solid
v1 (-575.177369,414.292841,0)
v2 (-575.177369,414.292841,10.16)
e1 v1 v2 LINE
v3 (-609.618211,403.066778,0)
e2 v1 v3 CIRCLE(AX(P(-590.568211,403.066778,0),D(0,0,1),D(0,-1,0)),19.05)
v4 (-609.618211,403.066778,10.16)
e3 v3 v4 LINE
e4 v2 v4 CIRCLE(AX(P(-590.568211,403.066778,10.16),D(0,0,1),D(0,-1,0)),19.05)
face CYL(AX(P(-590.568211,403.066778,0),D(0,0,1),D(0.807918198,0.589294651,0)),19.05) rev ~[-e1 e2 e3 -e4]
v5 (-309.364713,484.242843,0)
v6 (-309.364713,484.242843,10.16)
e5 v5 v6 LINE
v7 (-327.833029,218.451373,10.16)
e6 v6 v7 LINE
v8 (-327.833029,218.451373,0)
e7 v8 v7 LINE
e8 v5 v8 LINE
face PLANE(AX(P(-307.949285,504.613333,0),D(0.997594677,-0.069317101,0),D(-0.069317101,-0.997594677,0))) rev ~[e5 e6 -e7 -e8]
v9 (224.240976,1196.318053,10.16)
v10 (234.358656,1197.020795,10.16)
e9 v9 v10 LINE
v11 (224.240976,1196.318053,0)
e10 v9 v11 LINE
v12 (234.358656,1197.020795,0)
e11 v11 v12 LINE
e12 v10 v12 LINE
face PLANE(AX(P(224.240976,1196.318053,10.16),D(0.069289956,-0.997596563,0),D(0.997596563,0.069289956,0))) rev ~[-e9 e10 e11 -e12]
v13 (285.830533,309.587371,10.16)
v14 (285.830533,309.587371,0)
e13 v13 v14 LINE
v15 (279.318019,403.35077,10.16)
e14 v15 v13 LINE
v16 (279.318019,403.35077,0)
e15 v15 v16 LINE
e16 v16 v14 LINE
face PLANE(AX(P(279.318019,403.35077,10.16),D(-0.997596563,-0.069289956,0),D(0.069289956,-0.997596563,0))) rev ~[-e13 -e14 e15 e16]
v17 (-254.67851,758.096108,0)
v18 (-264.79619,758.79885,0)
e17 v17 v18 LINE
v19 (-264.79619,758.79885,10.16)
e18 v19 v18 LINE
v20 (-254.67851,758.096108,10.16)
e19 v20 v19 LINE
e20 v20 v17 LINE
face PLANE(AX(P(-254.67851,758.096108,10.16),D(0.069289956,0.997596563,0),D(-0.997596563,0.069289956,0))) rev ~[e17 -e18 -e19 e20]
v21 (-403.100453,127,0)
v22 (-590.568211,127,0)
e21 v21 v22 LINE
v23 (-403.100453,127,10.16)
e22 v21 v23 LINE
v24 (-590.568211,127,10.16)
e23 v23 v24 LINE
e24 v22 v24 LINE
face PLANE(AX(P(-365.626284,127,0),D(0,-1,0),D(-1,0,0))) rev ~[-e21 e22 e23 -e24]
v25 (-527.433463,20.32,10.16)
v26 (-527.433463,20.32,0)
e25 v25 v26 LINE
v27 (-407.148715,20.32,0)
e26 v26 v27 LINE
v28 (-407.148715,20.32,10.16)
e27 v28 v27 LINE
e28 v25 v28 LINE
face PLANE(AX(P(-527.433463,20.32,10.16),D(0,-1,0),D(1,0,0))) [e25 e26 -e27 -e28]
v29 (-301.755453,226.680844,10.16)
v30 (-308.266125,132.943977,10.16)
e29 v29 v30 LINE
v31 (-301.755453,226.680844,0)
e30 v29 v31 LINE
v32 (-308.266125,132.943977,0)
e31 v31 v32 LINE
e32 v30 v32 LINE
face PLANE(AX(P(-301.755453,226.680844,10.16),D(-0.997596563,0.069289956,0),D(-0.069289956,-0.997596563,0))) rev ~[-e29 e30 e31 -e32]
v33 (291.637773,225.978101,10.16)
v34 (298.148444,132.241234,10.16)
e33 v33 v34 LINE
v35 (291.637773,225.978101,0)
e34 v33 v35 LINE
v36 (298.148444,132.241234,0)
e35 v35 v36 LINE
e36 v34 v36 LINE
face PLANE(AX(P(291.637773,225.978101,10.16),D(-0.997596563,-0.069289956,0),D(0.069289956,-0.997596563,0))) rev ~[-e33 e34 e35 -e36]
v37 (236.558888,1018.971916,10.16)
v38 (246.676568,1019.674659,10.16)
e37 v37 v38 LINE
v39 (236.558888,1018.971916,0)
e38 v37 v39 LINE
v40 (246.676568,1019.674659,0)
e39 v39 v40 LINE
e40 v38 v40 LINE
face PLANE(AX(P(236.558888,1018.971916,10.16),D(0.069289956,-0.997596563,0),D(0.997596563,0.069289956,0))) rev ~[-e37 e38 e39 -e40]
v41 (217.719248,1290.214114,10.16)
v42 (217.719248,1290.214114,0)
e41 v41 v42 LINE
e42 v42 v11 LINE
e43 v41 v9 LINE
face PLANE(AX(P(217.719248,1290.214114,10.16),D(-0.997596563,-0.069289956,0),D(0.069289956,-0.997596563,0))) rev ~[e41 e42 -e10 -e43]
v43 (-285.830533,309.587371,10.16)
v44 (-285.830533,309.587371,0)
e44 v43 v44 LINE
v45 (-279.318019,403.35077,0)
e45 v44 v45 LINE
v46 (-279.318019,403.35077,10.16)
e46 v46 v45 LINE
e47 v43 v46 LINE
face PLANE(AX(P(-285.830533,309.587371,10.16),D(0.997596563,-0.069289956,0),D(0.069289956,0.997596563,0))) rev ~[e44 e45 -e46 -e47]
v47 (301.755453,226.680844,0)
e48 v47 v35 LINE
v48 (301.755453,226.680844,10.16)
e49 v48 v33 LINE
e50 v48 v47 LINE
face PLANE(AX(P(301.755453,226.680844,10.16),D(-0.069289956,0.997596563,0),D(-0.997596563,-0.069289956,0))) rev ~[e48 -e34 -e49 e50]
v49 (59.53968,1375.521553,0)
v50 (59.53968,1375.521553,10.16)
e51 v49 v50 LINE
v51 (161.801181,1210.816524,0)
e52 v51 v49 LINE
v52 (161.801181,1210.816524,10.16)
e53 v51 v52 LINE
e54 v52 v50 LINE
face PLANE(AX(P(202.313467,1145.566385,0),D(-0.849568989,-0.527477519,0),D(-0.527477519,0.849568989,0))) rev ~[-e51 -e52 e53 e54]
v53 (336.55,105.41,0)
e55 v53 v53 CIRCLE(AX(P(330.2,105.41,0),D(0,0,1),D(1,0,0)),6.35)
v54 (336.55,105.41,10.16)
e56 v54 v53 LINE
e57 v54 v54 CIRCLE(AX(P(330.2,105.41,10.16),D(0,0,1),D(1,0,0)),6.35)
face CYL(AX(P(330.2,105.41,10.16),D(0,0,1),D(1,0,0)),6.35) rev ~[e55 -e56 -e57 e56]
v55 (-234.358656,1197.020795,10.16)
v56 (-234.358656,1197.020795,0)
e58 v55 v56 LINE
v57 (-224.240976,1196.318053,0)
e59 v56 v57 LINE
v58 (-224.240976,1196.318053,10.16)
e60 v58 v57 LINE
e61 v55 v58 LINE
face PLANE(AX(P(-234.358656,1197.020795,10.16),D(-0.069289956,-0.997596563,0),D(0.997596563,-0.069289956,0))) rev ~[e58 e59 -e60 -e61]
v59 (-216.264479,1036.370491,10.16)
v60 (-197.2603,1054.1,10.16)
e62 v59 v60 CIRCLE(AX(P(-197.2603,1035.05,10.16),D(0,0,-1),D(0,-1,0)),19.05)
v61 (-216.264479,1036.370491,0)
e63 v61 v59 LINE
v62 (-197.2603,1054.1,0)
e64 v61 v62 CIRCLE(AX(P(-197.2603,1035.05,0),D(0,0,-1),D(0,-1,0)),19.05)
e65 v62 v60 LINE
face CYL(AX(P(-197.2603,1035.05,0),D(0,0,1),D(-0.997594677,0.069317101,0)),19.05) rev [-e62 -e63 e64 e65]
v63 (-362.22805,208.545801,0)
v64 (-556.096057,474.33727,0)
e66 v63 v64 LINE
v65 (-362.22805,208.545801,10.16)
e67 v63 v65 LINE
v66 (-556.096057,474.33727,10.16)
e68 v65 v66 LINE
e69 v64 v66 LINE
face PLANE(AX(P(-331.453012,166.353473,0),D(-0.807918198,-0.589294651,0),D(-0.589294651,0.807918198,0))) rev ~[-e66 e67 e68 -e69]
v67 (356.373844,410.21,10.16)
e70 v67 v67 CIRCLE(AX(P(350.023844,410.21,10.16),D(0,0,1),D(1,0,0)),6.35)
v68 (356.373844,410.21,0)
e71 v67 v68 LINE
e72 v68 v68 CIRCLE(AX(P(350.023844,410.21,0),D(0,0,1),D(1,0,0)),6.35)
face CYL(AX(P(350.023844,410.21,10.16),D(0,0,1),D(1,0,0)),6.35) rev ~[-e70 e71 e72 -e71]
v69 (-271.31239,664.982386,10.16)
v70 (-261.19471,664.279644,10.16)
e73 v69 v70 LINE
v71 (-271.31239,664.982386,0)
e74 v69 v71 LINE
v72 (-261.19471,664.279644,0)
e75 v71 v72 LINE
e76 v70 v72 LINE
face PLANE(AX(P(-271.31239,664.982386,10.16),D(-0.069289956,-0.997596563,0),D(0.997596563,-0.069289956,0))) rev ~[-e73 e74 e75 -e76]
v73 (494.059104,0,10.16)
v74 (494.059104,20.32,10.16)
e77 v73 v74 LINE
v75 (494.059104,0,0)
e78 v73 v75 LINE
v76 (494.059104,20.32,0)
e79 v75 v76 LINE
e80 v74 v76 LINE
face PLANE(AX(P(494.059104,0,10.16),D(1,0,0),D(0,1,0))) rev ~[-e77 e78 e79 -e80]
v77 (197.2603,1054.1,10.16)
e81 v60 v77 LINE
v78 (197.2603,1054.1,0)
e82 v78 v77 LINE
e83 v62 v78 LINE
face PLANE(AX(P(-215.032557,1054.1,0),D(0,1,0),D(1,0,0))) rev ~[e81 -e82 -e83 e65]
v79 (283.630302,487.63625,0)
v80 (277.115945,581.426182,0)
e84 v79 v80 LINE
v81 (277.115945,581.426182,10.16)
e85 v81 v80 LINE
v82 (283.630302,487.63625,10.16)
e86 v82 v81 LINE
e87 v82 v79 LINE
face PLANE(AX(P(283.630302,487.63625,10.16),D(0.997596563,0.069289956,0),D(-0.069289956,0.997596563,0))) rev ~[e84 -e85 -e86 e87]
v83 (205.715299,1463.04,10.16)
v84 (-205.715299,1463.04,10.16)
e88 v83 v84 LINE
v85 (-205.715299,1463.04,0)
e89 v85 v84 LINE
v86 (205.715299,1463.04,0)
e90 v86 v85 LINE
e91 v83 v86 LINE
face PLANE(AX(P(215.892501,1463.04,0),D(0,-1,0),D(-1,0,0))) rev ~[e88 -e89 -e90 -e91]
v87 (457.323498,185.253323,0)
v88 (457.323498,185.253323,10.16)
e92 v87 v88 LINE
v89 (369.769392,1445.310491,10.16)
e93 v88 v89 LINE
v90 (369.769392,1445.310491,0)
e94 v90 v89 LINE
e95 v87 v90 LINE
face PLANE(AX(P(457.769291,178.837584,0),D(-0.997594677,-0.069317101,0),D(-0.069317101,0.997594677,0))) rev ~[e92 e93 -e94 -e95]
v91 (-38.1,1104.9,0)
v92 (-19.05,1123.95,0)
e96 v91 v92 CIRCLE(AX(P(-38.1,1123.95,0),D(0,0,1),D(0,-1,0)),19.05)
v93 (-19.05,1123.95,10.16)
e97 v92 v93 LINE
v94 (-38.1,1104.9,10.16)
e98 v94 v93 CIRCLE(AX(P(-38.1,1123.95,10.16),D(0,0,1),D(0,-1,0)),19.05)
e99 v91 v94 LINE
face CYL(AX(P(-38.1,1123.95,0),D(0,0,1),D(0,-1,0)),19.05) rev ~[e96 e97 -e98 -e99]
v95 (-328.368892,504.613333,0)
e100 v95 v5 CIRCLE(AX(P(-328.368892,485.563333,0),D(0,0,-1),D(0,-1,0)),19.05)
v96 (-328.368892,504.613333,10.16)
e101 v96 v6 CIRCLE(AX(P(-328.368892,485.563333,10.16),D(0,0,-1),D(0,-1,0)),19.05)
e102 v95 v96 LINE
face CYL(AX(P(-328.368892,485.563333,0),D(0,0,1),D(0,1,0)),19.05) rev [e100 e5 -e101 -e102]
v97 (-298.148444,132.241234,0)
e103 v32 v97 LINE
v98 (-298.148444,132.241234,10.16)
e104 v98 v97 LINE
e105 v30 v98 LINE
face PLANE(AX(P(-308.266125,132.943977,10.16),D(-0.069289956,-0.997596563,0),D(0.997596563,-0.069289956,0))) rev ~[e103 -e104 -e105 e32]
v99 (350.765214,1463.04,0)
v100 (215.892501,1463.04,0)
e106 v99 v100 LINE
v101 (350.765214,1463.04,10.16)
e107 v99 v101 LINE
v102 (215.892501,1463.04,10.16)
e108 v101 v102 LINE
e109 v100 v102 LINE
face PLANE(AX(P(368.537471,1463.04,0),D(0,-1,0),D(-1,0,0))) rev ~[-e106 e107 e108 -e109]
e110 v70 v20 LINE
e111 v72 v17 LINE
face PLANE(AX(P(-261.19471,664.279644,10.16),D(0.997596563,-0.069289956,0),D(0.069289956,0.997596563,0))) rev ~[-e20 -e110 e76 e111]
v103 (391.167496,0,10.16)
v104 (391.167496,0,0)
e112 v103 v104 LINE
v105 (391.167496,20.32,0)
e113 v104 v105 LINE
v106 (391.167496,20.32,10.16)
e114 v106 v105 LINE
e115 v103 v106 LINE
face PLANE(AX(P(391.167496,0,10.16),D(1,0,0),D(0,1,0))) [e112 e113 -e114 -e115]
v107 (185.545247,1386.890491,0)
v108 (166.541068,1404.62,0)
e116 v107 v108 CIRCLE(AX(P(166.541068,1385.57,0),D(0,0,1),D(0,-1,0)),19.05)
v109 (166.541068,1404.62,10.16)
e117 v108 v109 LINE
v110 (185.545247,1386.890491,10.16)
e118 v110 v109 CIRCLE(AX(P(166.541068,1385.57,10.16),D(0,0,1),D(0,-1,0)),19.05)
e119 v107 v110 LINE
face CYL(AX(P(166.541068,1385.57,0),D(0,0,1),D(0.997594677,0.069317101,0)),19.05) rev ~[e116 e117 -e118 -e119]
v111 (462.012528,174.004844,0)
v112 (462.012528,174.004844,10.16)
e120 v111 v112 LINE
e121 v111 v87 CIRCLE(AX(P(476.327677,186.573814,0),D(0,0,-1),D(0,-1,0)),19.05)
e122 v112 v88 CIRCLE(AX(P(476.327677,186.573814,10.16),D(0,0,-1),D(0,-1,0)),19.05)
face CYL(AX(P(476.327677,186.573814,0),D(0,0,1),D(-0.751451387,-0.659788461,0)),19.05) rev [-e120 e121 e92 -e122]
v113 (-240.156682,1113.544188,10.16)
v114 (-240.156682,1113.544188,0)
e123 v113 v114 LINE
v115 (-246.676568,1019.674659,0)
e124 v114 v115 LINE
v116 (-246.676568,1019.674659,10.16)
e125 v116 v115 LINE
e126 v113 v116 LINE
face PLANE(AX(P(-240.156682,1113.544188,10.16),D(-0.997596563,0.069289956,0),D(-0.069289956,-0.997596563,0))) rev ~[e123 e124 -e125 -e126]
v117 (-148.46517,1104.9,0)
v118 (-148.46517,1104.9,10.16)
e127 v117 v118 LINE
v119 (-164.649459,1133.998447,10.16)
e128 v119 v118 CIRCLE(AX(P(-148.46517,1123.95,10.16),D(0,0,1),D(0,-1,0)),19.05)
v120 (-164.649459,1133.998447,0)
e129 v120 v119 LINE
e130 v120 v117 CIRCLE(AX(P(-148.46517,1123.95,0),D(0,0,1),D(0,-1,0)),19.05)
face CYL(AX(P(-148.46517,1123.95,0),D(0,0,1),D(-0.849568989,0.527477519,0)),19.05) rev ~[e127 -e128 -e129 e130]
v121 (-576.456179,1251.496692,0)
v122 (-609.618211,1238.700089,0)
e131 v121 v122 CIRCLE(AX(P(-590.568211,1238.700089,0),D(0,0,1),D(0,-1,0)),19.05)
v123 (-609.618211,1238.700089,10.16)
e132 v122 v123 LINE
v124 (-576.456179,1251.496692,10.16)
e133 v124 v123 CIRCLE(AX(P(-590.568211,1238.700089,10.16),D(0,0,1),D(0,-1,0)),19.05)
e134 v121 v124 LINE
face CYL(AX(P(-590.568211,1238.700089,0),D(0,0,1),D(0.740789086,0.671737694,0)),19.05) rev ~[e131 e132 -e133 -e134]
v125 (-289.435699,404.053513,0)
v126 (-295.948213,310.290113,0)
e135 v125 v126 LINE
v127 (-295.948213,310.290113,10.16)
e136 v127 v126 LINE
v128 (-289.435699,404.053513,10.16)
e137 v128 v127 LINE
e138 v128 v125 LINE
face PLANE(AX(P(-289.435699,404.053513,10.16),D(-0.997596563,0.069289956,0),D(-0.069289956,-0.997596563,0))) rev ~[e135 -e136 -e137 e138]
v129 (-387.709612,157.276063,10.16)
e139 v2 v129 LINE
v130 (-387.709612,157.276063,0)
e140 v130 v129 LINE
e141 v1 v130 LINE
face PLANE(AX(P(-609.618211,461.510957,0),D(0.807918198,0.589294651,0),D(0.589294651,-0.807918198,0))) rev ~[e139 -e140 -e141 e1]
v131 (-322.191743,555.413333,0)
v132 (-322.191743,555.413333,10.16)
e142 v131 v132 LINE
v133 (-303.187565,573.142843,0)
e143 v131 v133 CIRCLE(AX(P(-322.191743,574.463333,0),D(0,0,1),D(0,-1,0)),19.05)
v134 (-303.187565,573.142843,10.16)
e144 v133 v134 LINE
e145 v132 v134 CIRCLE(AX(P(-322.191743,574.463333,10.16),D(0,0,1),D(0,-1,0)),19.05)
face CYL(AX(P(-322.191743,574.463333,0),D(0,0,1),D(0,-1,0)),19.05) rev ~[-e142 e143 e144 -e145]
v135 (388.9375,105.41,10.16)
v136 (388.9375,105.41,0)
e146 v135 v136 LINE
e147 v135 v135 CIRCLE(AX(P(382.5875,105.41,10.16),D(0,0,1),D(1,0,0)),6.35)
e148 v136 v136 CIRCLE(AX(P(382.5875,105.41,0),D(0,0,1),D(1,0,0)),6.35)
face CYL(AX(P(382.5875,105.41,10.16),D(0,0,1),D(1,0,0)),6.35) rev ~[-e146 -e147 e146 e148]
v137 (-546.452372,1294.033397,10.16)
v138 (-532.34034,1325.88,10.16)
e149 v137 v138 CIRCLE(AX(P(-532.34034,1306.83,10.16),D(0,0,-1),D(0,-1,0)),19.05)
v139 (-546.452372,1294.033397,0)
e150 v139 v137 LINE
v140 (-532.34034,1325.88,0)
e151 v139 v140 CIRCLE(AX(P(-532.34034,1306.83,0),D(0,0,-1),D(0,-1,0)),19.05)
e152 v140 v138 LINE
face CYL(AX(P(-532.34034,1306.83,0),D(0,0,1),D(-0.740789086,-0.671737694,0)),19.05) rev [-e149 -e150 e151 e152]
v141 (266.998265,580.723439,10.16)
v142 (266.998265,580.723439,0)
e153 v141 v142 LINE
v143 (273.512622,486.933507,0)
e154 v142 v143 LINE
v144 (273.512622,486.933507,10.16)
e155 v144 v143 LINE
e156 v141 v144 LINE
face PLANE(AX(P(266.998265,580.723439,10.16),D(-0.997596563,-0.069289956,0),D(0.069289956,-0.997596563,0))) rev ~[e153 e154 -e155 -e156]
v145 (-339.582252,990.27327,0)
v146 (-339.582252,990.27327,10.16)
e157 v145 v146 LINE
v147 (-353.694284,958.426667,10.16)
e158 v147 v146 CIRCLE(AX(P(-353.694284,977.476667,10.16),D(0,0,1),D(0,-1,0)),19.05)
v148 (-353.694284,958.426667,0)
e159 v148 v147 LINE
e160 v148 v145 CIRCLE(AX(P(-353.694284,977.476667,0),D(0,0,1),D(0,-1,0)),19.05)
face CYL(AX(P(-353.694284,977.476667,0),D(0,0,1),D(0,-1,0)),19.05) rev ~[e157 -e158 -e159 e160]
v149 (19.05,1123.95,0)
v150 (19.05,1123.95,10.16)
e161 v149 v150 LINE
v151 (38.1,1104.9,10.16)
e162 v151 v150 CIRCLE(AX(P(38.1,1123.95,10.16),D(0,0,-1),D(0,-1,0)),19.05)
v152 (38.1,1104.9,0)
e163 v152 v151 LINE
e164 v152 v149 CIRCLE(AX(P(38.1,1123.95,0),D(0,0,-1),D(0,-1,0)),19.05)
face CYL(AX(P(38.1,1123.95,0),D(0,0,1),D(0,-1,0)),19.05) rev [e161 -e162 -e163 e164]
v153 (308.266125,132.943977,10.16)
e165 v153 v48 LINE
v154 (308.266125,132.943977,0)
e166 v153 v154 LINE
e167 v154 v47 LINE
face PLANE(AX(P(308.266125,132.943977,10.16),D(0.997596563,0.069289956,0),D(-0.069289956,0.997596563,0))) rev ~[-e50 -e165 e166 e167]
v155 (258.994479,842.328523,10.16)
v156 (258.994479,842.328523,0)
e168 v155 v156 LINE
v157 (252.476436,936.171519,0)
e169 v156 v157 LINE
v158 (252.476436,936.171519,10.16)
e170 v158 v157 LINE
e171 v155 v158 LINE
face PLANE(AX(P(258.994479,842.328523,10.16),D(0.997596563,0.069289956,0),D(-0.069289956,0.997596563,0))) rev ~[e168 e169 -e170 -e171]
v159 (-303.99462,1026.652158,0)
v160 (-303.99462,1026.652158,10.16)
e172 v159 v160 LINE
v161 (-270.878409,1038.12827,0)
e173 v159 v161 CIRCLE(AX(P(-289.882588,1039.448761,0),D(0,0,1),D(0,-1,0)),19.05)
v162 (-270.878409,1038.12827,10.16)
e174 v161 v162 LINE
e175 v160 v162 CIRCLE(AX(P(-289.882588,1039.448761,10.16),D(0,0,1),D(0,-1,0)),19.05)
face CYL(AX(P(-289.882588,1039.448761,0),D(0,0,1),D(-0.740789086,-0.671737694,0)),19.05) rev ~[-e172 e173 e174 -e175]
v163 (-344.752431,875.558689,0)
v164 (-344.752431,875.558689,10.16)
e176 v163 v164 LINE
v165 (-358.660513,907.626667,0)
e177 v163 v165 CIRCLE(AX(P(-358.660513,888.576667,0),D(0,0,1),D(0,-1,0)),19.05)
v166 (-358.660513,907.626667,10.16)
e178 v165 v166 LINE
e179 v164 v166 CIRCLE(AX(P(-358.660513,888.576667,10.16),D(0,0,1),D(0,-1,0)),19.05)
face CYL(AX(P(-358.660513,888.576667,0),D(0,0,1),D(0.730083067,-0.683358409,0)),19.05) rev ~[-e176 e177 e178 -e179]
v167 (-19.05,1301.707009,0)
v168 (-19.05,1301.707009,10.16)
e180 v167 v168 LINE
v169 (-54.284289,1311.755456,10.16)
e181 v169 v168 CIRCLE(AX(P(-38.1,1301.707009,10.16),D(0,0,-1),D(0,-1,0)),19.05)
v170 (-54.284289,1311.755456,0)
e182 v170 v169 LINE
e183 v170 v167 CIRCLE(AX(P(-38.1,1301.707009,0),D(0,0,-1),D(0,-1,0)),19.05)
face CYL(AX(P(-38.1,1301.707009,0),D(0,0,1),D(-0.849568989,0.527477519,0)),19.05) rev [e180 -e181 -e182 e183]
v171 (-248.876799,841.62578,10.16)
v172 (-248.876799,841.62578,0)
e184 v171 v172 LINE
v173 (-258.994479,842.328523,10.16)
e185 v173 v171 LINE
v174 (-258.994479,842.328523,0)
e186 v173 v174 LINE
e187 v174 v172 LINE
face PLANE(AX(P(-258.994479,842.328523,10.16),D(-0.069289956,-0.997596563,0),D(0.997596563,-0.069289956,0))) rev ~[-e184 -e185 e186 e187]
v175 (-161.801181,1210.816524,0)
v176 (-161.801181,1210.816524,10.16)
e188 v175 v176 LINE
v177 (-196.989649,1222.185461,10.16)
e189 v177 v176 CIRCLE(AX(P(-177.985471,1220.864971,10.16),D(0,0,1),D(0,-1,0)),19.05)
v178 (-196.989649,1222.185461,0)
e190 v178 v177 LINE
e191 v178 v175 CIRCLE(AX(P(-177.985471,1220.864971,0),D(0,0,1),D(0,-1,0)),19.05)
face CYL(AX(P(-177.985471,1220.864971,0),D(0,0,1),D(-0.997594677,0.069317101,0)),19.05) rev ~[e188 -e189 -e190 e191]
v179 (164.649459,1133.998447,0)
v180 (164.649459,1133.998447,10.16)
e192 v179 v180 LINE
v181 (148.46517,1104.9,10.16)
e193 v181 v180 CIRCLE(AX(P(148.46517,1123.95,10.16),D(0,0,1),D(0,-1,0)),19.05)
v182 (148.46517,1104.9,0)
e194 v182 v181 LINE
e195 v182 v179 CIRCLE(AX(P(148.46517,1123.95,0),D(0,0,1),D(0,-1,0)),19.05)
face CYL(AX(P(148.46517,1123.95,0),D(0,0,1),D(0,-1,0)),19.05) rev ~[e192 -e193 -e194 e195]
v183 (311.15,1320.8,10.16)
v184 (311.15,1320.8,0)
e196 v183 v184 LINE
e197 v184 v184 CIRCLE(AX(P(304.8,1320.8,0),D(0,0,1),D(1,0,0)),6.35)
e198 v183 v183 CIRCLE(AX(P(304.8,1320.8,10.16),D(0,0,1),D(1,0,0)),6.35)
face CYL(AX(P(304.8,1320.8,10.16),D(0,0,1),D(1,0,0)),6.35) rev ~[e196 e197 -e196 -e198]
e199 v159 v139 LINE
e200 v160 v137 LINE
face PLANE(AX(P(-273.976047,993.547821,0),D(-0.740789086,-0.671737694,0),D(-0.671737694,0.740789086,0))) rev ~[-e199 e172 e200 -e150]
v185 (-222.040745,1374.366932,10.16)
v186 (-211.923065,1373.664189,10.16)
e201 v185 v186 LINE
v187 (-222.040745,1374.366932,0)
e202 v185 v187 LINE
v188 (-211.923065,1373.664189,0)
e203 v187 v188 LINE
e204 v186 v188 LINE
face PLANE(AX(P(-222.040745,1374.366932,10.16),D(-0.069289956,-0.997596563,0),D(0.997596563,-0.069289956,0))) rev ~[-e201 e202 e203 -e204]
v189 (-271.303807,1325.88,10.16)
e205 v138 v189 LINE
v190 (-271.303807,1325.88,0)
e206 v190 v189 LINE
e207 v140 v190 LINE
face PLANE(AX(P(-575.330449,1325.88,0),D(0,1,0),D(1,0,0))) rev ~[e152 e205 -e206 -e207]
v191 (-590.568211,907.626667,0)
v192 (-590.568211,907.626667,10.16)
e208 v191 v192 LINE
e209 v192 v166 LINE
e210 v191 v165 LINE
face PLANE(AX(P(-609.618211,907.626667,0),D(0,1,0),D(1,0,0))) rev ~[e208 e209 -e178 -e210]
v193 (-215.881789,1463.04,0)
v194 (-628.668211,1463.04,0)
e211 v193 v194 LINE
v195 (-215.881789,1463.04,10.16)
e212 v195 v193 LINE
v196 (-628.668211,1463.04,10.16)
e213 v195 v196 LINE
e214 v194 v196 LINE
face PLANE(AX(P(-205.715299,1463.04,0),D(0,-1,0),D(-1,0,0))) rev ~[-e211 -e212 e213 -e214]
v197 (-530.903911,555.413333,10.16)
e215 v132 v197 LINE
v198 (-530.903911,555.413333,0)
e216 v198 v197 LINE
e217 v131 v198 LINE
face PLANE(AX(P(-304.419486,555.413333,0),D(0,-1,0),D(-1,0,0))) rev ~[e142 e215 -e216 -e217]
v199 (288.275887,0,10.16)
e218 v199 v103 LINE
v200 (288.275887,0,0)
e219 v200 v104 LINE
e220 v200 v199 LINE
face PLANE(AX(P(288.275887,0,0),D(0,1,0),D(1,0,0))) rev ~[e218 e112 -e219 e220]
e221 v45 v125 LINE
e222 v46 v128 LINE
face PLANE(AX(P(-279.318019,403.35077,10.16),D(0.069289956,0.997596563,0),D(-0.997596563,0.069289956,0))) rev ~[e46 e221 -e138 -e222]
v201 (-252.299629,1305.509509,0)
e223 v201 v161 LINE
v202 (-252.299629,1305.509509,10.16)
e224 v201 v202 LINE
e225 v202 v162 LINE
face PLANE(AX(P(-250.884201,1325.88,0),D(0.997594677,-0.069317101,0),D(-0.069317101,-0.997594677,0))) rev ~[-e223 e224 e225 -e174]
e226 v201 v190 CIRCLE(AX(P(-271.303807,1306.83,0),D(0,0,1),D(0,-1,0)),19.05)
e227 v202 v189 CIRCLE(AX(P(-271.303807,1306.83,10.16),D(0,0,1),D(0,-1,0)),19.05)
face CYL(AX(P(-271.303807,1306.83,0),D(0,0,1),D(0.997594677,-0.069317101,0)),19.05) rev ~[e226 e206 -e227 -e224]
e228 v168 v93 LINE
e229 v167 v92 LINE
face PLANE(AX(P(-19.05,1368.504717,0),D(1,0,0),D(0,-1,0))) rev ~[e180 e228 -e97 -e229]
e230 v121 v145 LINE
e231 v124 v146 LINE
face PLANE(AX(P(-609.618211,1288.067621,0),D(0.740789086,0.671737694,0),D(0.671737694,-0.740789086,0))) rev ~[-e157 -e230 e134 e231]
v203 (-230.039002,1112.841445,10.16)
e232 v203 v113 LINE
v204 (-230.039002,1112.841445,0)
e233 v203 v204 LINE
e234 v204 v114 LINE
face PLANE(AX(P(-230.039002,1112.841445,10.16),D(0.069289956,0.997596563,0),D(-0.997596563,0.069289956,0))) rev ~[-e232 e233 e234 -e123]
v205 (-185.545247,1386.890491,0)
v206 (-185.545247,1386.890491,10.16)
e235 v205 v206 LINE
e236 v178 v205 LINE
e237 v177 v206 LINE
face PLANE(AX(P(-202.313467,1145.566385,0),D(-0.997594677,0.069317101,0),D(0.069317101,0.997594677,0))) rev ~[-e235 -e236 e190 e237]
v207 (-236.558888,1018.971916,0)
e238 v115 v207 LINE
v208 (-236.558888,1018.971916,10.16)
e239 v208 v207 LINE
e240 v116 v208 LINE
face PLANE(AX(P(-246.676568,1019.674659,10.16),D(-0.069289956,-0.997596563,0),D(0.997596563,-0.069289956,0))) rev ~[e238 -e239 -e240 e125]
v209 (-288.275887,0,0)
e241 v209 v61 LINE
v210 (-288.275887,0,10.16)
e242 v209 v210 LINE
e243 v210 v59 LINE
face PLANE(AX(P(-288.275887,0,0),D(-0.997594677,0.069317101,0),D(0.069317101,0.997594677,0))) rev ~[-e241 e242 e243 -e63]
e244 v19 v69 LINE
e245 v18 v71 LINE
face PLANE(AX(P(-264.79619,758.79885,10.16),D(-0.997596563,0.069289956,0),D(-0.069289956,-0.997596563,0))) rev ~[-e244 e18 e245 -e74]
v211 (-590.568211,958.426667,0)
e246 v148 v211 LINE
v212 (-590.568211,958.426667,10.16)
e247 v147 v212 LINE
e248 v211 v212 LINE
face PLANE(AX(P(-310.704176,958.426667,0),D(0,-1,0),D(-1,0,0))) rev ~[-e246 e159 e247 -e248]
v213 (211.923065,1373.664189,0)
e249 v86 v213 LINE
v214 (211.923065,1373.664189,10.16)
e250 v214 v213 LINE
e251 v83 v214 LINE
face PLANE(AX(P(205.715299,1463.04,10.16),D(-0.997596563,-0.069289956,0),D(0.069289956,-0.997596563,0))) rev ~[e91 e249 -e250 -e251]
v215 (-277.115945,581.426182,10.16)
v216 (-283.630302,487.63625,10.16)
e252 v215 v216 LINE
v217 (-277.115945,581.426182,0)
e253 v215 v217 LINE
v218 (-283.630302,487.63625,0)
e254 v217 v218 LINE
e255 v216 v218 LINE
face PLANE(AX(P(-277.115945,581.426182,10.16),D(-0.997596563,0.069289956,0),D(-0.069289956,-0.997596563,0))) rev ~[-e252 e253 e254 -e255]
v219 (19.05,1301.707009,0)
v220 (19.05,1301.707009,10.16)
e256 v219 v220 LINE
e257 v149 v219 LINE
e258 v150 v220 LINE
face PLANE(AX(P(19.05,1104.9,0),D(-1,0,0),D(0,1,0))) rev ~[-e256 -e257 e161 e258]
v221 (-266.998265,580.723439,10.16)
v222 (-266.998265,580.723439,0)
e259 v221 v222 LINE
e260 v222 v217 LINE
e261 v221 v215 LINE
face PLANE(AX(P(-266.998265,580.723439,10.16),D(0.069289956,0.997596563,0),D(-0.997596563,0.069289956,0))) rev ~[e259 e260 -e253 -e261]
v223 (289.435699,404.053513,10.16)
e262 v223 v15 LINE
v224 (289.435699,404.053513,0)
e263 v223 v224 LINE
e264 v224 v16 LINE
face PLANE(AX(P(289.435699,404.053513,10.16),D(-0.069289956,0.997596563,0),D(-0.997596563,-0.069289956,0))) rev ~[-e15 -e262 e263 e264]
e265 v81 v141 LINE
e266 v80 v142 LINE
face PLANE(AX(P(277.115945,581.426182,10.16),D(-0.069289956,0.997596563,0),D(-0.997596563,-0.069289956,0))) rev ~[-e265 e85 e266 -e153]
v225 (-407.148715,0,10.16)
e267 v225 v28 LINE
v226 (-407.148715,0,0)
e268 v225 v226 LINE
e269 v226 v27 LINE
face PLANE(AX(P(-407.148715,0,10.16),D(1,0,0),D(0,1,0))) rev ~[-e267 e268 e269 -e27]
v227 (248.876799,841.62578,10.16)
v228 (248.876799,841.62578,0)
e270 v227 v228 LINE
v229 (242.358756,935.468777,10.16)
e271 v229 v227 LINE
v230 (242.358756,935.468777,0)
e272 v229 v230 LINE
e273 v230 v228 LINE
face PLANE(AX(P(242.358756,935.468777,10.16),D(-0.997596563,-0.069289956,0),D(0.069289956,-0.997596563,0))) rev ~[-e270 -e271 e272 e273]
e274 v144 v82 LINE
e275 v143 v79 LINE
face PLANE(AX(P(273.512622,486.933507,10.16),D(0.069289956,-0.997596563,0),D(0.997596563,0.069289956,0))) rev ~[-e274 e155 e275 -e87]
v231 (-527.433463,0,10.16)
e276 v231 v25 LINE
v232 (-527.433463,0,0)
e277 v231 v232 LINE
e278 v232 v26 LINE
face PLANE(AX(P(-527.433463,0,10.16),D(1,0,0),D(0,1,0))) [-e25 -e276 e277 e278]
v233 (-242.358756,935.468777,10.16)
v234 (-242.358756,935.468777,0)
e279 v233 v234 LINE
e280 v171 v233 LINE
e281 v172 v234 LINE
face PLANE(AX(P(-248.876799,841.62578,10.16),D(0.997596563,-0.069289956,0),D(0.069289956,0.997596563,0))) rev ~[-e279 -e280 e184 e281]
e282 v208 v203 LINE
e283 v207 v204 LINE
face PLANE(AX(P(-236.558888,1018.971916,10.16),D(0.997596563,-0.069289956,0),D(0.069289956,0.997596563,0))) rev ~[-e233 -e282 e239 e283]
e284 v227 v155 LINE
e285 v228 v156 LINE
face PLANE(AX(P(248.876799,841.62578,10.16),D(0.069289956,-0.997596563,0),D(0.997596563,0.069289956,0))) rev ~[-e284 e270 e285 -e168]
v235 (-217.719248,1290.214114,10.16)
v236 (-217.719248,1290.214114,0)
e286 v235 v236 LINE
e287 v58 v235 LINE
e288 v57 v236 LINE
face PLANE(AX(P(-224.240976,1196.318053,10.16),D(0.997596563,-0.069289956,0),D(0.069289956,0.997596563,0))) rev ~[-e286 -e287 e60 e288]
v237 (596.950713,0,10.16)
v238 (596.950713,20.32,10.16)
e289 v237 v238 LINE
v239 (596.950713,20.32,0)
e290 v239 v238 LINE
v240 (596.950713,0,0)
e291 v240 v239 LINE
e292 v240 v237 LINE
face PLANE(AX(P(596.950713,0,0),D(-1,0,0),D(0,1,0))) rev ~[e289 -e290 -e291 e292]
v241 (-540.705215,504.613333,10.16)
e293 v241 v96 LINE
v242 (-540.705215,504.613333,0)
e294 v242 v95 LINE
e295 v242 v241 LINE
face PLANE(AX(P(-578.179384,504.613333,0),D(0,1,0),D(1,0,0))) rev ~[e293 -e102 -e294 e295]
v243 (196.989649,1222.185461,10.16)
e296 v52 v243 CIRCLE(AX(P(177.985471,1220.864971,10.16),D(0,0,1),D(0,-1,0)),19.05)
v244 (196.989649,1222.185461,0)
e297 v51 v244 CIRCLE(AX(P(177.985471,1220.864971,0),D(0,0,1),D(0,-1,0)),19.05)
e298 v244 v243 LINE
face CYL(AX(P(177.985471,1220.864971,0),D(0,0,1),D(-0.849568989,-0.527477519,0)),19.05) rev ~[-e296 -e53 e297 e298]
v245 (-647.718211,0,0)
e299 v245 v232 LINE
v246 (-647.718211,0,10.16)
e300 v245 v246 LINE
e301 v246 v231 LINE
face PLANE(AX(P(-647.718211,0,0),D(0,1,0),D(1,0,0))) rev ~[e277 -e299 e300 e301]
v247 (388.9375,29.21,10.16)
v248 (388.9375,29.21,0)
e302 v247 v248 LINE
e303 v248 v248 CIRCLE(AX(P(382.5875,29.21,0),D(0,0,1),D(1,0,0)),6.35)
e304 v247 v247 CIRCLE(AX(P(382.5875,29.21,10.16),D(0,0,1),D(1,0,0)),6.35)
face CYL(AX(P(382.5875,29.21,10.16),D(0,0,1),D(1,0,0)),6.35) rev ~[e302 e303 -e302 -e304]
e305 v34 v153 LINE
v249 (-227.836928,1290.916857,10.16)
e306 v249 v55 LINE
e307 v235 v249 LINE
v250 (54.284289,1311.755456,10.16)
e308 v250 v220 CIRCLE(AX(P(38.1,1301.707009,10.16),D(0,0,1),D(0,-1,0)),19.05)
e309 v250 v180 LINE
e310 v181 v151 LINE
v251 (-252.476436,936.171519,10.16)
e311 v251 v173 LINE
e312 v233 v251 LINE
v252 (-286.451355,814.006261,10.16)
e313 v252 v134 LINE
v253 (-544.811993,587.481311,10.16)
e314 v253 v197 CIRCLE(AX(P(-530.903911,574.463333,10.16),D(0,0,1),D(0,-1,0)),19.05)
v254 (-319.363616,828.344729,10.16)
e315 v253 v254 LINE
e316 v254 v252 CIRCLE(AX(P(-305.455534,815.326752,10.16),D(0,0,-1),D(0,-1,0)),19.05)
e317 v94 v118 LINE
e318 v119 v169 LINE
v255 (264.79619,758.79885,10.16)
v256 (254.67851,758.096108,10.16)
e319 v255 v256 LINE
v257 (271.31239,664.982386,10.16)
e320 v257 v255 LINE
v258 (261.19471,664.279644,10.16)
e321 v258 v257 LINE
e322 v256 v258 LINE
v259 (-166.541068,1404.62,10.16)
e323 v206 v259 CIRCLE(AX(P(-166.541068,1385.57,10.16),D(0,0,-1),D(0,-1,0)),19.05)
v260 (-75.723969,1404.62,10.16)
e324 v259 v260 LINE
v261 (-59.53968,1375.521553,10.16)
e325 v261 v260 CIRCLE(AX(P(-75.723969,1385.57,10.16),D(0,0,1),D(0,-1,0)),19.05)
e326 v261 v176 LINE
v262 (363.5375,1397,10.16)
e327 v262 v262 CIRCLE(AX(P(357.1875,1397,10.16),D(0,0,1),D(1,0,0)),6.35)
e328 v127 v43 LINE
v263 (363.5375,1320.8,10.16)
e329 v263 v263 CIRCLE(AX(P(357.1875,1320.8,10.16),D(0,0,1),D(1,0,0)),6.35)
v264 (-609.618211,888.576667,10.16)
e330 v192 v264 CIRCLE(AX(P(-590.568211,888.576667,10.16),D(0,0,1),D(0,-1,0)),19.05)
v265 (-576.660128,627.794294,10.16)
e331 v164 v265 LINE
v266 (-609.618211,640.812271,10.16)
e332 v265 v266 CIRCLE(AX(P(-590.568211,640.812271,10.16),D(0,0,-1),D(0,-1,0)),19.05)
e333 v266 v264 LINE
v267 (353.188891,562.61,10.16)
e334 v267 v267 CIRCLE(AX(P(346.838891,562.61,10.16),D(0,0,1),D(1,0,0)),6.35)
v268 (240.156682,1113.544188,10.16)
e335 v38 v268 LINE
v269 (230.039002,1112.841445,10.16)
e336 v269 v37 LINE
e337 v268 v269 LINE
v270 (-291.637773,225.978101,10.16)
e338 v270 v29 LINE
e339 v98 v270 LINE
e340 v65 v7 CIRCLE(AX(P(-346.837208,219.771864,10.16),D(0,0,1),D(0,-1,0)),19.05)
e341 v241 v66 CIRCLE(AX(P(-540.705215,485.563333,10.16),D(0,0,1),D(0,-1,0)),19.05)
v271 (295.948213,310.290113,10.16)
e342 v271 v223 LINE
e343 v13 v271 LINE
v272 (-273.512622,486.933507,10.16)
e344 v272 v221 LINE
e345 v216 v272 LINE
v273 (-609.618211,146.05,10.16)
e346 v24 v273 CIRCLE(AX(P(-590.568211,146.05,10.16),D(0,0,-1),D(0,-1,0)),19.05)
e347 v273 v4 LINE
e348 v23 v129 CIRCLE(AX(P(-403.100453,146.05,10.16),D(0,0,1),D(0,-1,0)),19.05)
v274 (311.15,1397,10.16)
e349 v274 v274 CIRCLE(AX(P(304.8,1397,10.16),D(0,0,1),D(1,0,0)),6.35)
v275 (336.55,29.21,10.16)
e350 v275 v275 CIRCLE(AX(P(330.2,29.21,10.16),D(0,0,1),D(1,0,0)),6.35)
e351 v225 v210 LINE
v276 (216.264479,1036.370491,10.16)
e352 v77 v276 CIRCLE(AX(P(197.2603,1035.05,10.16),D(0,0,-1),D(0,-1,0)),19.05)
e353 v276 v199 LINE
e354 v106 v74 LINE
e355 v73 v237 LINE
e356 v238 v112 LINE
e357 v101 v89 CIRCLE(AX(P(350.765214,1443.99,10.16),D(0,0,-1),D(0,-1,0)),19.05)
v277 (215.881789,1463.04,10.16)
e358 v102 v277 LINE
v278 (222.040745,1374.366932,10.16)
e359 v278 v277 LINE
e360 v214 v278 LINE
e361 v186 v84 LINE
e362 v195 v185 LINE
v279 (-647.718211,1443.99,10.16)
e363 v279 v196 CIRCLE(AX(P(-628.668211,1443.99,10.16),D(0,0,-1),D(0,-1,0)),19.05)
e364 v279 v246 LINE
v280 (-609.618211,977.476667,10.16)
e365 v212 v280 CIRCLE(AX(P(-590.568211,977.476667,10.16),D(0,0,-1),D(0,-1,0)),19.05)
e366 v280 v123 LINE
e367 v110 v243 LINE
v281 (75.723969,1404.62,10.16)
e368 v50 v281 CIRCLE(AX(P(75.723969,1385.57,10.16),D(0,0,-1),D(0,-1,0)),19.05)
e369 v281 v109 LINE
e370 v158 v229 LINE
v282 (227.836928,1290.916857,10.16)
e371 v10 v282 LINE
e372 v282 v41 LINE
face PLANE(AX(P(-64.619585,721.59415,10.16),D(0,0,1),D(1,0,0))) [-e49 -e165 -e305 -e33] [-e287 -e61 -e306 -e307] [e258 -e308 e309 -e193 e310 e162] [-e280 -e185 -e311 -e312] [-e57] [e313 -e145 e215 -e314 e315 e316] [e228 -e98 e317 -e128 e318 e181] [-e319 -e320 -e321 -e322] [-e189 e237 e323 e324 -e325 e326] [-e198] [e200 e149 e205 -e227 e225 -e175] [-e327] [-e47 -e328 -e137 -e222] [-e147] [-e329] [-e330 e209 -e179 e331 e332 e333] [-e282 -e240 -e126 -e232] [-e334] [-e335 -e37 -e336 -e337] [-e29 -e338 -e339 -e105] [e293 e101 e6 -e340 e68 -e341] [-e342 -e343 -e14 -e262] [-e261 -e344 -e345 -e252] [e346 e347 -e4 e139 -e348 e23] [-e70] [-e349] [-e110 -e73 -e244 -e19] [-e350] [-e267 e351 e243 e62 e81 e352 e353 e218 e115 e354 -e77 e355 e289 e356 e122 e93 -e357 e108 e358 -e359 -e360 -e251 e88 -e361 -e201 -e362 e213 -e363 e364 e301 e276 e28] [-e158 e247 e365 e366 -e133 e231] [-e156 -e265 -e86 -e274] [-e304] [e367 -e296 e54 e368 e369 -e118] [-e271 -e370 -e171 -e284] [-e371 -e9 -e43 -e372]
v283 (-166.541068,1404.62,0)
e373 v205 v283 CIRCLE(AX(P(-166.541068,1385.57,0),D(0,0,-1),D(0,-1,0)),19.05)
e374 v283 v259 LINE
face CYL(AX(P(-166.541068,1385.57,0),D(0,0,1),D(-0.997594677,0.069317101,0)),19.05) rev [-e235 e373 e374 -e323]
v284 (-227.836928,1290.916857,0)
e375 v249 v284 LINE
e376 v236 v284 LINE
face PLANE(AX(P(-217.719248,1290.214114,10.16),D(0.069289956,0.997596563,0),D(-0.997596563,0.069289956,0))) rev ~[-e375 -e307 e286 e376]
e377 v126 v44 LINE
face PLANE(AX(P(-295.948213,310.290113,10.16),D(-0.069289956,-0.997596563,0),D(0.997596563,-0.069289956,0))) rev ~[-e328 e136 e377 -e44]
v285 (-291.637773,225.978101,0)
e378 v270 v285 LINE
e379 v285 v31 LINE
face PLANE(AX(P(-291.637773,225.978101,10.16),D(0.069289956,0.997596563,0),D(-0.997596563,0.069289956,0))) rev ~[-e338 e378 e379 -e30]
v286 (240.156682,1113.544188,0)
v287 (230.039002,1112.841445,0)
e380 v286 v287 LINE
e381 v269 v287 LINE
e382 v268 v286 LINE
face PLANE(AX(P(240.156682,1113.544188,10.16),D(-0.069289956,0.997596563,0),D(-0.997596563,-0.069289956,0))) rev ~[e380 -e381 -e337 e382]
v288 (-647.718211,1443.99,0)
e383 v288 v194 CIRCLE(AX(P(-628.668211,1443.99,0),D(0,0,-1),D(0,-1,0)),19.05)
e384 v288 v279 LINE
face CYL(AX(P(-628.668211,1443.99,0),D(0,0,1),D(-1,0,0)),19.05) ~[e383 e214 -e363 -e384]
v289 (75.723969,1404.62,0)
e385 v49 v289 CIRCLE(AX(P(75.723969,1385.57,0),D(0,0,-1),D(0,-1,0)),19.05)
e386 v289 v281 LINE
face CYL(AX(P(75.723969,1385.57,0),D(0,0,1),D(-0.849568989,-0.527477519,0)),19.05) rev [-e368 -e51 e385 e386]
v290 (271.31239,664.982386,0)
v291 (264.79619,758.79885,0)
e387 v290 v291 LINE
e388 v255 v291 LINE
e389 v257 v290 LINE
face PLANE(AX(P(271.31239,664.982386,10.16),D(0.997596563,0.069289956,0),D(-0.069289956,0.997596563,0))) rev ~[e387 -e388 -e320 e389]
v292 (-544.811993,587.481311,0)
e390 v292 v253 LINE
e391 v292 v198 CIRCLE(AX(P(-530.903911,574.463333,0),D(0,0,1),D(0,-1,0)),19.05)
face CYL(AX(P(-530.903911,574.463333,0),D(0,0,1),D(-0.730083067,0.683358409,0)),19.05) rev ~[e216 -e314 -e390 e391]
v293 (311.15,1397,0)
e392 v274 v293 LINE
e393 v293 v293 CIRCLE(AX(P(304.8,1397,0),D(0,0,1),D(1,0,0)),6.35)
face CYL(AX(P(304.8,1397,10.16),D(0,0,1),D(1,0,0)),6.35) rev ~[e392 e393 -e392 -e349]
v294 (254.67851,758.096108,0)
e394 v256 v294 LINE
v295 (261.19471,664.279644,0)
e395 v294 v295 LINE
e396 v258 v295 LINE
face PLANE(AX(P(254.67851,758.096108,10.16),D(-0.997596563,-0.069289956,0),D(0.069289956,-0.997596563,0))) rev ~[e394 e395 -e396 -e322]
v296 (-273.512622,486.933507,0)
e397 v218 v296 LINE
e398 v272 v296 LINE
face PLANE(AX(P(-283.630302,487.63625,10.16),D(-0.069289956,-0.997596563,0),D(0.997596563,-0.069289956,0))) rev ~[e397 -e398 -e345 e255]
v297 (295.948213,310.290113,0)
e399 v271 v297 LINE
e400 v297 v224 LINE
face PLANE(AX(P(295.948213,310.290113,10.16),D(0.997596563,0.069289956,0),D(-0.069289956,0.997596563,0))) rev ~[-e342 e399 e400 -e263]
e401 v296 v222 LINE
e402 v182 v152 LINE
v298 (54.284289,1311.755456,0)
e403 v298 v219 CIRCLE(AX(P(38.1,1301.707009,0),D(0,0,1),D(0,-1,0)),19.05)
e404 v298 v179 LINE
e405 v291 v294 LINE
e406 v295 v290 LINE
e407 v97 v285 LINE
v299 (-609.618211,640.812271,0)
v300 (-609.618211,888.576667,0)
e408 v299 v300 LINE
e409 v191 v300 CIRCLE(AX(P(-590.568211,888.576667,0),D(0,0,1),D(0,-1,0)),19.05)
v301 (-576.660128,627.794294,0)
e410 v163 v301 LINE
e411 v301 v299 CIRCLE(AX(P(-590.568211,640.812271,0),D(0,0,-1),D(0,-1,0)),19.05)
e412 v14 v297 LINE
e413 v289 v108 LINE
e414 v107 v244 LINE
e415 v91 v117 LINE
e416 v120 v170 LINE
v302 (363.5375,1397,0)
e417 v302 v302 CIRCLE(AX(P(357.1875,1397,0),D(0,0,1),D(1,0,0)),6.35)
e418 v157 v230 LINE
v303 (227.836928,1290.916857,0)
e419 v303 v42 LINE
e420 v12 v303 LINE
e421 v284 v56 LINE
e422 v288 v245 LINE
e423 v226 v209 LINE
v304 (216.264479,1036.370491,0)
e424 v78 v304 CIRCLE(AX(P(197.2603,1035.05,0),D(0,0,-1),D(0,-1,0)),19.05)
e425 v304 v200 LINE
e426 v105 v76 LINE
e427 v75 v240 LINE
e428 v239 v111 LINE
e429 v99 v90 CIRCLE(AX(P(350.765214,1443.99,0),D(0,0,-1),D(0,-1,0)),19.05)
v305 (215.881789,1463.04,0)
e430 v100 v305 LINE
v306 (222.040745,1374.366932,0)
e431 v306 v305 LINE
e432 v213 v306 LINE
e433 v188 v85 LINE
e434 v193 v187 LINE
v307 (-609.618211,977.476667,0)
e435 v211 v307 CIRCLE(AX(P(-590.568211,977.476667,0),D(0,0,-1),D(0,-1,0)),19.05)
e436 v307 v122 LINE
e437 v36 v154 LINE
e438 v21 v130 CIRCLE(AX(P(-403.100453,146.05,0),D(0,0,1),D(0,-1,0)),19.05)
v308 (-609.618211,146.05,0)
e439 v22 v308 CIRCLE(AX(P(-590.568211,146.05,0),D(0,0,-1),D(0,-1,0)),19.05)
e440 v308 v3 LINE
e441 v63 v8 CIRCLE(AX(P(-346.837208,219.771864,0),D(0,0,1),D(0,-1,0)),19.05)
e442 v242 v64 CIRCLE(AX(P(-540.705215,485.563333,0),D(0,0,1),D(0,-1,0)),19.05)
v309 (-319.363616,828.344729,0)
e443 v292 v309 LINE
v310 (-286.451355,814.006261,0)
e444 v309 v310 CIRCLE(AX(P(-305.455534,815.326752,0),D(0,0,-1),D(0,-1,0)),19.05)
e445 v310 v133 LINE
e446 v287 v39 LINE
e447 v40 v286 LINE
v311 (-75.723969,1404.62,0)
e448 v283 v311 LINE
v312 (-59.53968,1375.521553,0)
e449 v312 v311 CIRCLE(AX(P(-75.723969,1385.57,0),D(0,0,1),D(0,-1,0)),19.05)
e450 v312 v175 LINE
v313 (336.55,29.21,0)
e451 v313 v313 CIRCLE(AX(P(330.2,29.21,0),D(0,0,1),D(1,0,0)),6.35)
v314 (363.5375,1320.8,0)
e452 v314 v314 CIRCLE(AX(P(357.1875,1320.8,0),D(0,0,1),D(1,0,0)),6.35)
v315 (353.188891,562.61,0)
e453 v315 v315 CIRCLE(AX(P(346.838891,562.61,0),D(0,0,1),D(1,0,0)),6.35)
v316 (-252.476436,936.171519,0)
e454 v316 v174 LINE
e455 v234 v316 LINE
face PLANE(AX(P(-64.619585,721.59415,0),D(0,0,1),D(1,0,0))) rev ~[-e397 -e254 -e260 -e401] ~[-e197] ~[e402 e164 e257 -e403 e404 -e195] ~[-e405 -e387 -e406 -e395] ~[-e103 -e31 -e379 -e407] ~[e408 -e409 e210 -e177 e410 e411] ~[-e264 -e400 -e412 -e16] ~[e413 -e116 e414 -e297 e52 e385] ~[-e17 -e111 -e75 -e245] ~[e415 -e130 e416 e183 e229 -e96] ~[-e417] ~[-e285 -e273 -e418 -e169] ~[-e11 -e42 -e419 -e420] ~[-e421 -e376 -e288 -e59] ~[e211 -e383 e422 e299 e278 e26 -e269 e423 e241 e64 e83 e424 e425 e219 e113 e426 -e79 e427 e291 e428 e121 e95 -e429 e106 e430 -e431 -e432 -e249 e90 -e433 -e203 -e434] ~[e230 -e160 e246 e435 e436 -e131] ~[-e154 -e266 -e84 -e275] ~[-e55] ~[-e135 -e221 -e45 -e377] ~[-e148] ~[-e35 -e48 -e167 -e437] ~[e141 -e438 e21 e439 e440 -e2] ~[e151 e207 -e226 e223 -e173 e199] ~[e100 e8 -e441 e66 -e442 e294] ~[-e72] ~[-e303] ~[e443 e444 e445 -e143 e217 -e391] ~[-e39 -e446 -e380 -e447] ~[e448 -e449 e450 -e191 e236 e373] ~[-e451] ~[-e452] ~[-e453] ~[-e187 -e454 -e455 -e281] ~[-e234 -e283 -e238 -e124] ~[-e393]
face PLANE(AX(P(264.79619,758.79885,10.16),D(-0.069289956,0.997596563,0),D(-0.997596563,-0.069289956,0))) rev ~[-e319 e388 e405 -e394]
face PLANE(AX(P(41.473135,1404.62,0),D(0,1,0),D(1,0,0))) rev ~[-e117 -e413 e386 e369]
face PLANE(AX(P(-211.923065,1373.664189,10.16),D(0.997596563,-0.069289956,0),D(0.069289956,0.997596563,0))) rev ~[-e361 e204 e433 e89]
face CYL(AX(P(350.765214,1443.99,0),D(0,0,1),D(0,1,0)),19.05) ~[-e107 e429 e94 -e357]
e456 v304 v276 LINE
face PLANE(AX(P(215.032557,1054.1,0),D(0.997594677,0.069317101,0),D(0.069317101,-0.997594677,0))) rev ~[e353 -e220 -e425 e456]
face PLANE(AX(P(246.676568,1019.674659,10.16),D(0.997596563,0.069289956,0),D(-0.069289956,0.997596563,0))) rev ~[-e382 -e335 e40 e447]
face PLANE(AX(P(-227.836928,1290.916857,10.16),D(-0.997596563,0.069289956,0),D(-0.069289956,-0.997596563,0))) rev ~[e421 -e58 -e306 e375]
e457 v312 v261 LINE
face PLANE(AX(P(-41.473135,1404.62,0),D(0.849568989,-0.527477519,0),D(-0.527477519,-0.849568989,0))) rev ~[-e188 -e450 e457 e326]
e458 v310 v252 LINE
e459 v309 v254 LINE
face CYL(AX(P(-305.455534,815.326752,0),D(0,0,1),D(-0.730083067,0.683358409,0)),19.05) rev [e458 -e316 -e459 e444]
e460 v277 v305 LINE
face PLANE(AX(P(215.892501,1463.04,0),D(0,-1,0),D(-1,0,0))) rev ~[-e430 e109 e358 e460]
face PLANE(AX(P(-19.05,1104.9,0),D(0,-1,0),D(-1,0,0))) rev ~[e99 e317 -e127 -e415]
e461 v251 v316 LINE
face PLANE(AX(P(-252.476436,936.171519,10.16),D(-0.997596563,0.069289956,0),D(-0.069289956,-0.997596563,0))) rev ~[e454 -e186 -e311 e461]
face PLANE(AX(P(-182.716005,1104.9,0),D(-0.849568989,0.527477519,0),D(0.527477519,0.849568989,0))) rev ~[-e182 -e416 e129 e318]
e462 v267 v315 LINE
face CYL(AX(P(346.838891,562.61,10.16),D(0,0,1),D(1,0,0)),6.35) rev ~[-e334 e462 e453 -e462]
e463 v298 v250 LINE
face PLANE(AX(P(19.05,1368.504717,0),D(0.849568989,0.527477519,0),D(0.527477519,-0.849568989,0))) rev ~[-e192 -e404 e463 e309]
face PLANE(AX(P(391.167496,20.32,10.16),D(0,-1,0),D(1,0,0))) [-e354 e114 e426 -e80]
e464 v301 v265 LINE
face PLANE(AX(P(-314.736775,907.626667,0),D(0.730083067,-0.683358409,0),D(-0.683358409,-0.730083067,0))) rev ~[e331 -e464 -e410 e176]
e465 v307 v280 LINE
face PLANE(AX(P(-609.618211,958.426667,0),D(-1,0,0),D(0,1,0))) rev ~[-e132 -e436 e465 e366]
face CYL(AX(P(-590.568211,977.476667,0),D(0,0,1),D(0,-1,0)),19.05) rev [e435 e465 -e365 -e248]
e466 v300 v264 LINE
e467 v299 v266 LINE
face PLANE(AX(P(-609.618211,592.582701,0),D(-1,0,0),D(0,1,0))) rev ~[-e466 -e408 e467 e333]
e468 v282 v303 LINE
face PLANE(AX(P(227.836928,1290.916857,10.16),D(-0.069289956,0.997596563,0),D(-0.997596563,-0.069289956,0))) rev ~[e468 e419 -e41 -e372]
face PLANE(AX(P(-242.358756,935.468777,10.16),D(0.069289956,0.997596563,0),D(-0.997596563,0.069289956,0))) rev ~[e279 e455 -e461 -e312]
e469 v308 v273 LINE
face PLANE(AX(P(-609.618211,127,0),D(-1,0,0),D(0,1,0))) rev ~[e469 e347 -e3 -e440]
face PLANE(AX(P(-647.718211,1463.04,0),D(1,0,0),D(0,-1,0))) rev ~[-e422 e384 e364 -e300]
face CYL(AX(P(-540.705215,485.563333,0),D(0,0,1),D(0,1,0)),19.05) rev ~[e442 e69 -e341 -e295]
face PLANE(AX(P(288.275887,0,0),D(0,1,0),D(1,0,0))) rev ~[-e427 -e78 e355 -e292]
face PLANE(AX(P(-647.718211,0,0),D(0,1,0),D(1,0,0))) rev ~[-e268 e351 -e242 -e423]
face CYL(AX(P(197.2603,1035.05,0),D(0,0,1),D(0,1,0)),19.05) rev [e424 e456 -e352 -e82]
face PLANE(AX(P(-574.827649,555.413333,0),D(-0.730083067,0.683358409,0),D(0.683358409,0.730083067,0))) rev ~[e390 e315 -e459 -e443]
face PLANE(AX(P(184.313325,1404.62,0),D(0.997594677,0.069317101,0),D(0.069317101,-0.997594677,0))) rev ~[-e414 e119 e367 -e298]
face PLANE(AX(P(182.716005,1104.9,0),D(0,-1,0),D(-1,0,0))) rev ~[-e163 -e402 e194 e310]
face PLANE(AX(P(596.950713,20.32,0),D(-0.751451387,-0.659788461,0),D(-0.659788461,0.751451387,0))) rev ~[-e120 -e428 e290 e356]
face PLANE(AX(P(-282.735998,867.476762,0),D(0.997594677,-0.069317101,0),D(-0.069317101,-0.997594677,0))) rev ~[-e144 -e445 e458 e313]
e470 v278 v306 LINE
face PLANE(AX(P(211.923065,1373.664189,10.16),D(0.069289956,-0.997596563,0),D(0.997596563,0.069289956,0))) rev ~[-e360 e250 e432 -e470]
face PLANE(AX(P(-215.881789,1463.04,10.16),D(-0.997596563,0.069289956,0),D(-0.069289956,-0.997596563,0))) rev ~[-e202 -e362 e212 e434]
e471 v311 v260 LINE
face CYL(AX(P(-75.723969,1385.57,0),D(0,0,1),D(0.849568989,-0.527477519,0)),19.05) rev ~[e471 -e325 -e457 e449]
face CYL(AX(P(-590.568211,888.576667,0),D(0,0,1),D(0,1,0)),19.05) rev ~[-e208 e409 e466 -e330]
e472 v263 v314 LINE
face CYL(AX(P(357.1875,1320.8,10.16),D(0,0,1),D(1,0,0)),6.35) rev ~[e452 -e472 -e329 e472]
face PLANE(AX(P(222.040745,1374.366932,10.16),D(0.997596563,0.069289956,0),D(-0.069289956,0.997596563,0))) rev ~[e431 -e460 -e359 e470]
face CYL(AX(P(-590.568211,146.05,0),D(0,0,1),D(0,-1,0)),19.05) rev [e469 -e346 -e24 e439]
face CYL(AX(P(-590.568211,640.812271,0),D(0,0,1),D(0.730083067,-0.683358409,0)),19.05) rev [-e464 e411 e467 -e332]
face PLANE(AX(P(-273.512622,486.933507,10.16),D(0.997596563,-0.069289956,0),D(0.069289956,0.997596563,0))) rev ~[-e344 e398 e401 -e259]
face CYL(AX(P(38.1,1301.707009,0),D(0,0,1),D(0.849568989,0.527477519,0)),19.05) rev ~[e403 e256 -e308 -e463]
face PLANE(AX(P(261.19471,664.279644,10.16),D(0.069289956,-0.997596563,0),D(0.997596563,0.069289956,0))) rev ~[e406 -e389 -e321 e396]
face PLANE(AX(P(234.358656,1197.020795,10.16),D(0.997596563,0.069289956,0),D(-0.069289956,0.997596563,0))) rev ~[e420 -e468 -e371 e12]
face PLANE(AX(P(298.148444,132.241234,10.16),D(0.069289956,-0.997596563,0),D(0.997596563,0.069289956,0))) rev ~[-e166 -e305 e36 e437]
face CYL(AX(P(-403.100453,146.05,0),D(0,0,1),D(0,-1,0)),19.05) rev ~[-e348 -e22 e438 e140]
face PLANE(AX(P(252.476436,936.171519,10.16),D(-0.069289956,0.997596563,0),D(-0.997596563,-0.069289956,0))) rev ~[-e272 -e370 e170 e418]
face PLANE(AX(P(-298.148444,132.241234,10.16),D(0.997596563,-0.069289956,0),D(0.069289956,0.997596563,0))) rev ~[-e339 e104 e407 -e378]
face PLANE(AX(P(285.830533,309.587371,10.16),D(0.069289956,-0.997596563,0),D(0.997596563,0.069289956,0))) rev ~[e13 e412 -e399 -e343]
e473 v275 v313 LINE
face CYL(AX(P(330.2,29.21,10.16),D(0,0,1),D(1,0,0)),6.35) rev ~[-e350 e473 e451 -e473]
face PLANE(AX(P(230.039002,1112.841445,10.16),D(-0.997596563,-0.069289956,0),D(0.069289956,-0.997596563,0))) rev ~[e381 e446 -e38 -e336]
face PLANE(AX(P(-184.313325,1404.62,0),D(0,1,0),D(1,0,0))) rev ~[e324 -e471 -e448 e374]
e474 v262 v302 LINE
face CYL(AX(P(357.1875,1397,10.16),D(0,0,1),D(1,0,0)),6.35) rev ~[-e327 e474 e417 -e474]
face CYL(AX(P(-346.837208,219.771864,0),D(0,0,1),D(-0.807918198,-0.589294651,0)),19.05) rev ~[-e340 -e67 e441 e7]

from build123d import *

# Parameters (mm, degrees)
BOSS_EXTRUDE1_DEPTH = 10.16
FILLET1_R           = 19.05
SKETCH2_W           = 120.284747719
SKETCH2_H           = 20.32
SKETCH2_W_2         = 102.891608588
CUT_EXTRUDE1_DEPTH  = 12.7
SKETCH6_R           = 6.35
CUT_EXTRUDE2_DEPTH  = 10.16


with BuildPart() as part:
    # Sketch1 → Boss-Extrude1 (new body)
    with BuildSketch(Plane.XY):
        Polygon((-288.275887252, 0), (-215.032557346, 1054.1), (215.032557346, 1054.1), (288.275887252, 0), (596.950713016, 0), (596.950713016, 20.32), (457.769290722, 178.8375841), (368.537470958, 1463.04), (215.892500906, 1463.04), (-205.715298803, 1463.040000035), (-647.718210796, 1463.04), (-647.718210796, 0), align=None)
        Polygon((-609.618210796, 127), (-609.618210796, 461.510956689), (-365.626284392, 127), align=None, mode=Mode.SUBTRACT)
        Polygon((-609.618210796, 592.582701044), (-609.618210796, 907.626666667), (-314.736774564, 907.626666667), align=None, mode=Mode.SUBTRACT)
        Polygon((-282.735998162, 867.476761947), (-304.419486117, 555.413333333), (-574.827649063, 555.413333333), align=None, mode=Mode.SUBTRACT)
        Polygon((-307.949285149, 504.613333333), (-331.453012037, 166.353473425), (-578.179384354, 504.613333333), align=None, mode=Mode.SUBTRACT)
        Polygon((-609.618210796, 958.426666667), (-609.618210796, 1288.067621407), (-310.704175954, 958.426666667), align=None, mode=Mode.SUBTRACT)
        Polygon((-575.330448642, 1325.88), (-250.884200804, 1325.88), (-273.976047339, 993.547820907), align=None, mode=Mode.SUBTRACT)
        Polygon((19.05, 1104.9), (19.05, 1368.504716774), (182.716004616, 1104.9), align=None, mode=Mode.SUBTRACT)
        Polygon((41.473134849, 1404.62), (184.313325179, 1404.62), (202.313466912, 1145.566384812), align=None, mode=Mode.SUBTRACT)
        Polygon((-184.313325179, 1404.62), (-41.473134849, 1404.62), (-202.313466912, 1145.566384812), align=None, mode=Mode.SUBTRACT)
        Polygon((-19.05, 1368.504716774), (-19.05, 1104.9), (-182.716004616, 1104.9), align=None, mode=Mode.SUBTRACT)
    extrude(amount=BOSS_EXTRUDE1_DEPTH)

    # Fillet1
    fillet1_edges = [part.edges().sort_by_distance(p)[0] for p in [
        (19.05, 1368.504716774, 5.08),
        (19.05, 1104.9, 5.08),
        (182.716004616, 1104.9, 5.08),
        (-250.884200804, 1325.88, 5.08),
        (-575.330448642, 1325.88, 5.08),
        (-273.976047339, 993.547820907, 5.08),
        (-647.718210796, 1463.04, 5.08),
        (368.537470958, 1463.04, 5.08),
        (457.769290722, 178.8375841, 5.08),
        (215.032557346, 1054.1, 5.08),
        (-215.032557346, 1054.1, 5.08),
        (-609.618210796, 1288.067621407, 5.08),
        (-609.618210796, 958.426666667, 5.08),
        (-310.704175954, 958.426666667, 5.08),
        (-609.618210796, 461.510956689, 5.08),
        (-609.618210796, 127, 5.08),
        (-365.626284392, 127, 5.08),
        (-41.473134849, 1404.62, 5.08),
        (-184.313325179, 1404.62, 5.08),
        (-202.313466912, 1145.566384812, 5.08),
        (-182.716004616, 1104.9, 5.08),
        (-19.05, 1104.9, 5.08),
        (-19.05, 1368.504716774, 5.08),
        (184.313325179, 1404.62, 5.08),
        (41.473134849, 1404.62, 5.08),
        (202.313466912, 1145.566384812, 5.08),
        (-578.179384354, 504.613333333, 5.08),
        (-331.453012037, 166.353473425, 5.08),
        (-307.949285149, 504.613333333, 5.08),
        (-609.618210796, 907.626666667, 5.08),
        (-609.618210796, 592.582701044, 5.08),
        (-314.736774564, 907.626666667, 5.08),
        (-574.827649063, 555.413333333, 5.08),
        (-304.419486117, 555.413333333, 5.08),
        (-282.735998162, 867.476761947, 5.08),
    ]]
    fillet(fillet1_edges, radius=FILLET1_R)

    # Sketch2 → Cut-Extrude1 (cut)
    with BuildSketch(Plane.XY.offset(10.16)):
        with Locations((-467.291089218, 10.16)):
            Rectangle(SKETCH2_W, SKETCH2_H)
        with Locations((442.613300134, 10.16)):
            Rectangle(SKETCH2_W_2, SKETCH2_H)
        Polygon((211.92306481, 1373.664189215), (222.040744894, 1374.366931824), (215.881789204, 1463.040000035), (205.715298803, 1463.040000035), align=None)
        Polygon((234.358656272, 1197.020795404), (227.836927701, 1290.916856945), (217.719247617, 1290.214114336), (224.240976188, 1196.318052795), align=None)
        Polygon((246.676567651, 1019.674658983), (240.15668194, 1113.544188093), (230.039001856, 1112.841445484), (236.558887567, 1018.971916374), align=None)
        Polygon((258.99447903, 842.328522563), (252.476436179, 936.171519242), (242.358756095, 935.468776633), (248.876798945, 841.625779953), align=None)
        Polygon((271.312390408, 664.982386142), (264.796190418, 758.798850391), (254.678510334, 758.096107781), (261.194710324, 664.279643533), align=None)
        Polygon((283.630301787, 487.636249721), (277.115944656, 581.426181539), (266.998264572, 580.72343893), (273.512621703, 486.933507112), align=None)
        Polygon((295.948213166, 310.290113301), (289.435698895, 404.053512688), (279.318018811, 403.350770078), (285.830533081, 309.587370692), align=None)
        Polygon((308.266124544, 132.94397688), (301.755453134, 226.680843836), (291.63777305, 225.978101227), (298.14844446, 132.241234271), align=None)
        Polygon((-301.755453134, 226.680843836), (-308.266124544, 132.94397688), (-298.14844446, 132.241234271), (-291.63777305, 225.978101227), align=None)
        Polygon((-289.435698895, 404.053512688), (-295.948213166, 310.290113301), (-285.830533081, 309.587370692), (-279.318018811, 403.350770078), align=None)
        Polygon((-277.115944656, 581.426181539), (-283.630301787, 487.636249721), (-273.512621703, 486.933507112), (-266.998264572, 580.72343893), align=None)
        Polygon((-264.796190418, 758.798850391), (-271.312390408, 664.982386142), (-261.194710324, 664.279643533), (-254.678510334, 758.096107781), align=None)
        Polygon((-252.476436179, 936.171519242), (-258.99447903, 842.328522563), (-248.876798945, 841.625779953), (-242.358756095, 935.468776633), align=None)
        Polygon((-240.15668194, 1113.544188093), (-246.676567651, 1019.674658983), (-236.558887567, 1018.971916374), (-230.039001856, 1112.841445484), align=None)
        Polygon((-227.836927701, 1290.916856945), (-234.358656272, 1197.020795404), (-224.240976188, 1196.318052795), (-217.719247617, 1290.214114336), align=None)
        Polygon((-222.040744894, 1374.366931824), (-211.92306481, 1373.664189215), (-205.715298803, 1463.040000035), (-215.881789204, 1463.040000035), align=None)
    extrude(amount=-CUT_EXTRUDE1_DEPTH, mode=Mode.SUBTRACT)

    # Sketch6 → Cut-Extrude2 (cut)
    with BuildSketch(Plane.XY.offset(10.16)):
        with Locations((357.1875, 1397)):
            Circle(SKETCH6_R)
        with Locations((357.1875, 1320.8)):
            Circle(SKETCH6_R)
        with Locations((304.8, 1320.8)):
            Circle(SKETCH6_R)
        with Locations((304.8, 1397)):
            Circle(SKETCH6_R)
        with Locations((382.5875, 105.41)):
            Circle(SKETCH6_R)
        with Locations((382.5875, 29.21)):
            Circle(SKETCH6_R)
        with Locations((330.2, 29.21)):
            Circle(SKETCH6_R)
        with Locations((330.2, 105.41)):
            Circle(SKETCH6_R)
        with Locations((350.023844044, 410.21)):
            Circle(SKETCH6_R)
        with Locations((346.838891066, 562.61)):
            Circle(SKETCH6_R)
    extrude(amount=-CUT_EXTRUDE2_DEPTH, mode=Mode.SUBTRACT)


solid = part.part
